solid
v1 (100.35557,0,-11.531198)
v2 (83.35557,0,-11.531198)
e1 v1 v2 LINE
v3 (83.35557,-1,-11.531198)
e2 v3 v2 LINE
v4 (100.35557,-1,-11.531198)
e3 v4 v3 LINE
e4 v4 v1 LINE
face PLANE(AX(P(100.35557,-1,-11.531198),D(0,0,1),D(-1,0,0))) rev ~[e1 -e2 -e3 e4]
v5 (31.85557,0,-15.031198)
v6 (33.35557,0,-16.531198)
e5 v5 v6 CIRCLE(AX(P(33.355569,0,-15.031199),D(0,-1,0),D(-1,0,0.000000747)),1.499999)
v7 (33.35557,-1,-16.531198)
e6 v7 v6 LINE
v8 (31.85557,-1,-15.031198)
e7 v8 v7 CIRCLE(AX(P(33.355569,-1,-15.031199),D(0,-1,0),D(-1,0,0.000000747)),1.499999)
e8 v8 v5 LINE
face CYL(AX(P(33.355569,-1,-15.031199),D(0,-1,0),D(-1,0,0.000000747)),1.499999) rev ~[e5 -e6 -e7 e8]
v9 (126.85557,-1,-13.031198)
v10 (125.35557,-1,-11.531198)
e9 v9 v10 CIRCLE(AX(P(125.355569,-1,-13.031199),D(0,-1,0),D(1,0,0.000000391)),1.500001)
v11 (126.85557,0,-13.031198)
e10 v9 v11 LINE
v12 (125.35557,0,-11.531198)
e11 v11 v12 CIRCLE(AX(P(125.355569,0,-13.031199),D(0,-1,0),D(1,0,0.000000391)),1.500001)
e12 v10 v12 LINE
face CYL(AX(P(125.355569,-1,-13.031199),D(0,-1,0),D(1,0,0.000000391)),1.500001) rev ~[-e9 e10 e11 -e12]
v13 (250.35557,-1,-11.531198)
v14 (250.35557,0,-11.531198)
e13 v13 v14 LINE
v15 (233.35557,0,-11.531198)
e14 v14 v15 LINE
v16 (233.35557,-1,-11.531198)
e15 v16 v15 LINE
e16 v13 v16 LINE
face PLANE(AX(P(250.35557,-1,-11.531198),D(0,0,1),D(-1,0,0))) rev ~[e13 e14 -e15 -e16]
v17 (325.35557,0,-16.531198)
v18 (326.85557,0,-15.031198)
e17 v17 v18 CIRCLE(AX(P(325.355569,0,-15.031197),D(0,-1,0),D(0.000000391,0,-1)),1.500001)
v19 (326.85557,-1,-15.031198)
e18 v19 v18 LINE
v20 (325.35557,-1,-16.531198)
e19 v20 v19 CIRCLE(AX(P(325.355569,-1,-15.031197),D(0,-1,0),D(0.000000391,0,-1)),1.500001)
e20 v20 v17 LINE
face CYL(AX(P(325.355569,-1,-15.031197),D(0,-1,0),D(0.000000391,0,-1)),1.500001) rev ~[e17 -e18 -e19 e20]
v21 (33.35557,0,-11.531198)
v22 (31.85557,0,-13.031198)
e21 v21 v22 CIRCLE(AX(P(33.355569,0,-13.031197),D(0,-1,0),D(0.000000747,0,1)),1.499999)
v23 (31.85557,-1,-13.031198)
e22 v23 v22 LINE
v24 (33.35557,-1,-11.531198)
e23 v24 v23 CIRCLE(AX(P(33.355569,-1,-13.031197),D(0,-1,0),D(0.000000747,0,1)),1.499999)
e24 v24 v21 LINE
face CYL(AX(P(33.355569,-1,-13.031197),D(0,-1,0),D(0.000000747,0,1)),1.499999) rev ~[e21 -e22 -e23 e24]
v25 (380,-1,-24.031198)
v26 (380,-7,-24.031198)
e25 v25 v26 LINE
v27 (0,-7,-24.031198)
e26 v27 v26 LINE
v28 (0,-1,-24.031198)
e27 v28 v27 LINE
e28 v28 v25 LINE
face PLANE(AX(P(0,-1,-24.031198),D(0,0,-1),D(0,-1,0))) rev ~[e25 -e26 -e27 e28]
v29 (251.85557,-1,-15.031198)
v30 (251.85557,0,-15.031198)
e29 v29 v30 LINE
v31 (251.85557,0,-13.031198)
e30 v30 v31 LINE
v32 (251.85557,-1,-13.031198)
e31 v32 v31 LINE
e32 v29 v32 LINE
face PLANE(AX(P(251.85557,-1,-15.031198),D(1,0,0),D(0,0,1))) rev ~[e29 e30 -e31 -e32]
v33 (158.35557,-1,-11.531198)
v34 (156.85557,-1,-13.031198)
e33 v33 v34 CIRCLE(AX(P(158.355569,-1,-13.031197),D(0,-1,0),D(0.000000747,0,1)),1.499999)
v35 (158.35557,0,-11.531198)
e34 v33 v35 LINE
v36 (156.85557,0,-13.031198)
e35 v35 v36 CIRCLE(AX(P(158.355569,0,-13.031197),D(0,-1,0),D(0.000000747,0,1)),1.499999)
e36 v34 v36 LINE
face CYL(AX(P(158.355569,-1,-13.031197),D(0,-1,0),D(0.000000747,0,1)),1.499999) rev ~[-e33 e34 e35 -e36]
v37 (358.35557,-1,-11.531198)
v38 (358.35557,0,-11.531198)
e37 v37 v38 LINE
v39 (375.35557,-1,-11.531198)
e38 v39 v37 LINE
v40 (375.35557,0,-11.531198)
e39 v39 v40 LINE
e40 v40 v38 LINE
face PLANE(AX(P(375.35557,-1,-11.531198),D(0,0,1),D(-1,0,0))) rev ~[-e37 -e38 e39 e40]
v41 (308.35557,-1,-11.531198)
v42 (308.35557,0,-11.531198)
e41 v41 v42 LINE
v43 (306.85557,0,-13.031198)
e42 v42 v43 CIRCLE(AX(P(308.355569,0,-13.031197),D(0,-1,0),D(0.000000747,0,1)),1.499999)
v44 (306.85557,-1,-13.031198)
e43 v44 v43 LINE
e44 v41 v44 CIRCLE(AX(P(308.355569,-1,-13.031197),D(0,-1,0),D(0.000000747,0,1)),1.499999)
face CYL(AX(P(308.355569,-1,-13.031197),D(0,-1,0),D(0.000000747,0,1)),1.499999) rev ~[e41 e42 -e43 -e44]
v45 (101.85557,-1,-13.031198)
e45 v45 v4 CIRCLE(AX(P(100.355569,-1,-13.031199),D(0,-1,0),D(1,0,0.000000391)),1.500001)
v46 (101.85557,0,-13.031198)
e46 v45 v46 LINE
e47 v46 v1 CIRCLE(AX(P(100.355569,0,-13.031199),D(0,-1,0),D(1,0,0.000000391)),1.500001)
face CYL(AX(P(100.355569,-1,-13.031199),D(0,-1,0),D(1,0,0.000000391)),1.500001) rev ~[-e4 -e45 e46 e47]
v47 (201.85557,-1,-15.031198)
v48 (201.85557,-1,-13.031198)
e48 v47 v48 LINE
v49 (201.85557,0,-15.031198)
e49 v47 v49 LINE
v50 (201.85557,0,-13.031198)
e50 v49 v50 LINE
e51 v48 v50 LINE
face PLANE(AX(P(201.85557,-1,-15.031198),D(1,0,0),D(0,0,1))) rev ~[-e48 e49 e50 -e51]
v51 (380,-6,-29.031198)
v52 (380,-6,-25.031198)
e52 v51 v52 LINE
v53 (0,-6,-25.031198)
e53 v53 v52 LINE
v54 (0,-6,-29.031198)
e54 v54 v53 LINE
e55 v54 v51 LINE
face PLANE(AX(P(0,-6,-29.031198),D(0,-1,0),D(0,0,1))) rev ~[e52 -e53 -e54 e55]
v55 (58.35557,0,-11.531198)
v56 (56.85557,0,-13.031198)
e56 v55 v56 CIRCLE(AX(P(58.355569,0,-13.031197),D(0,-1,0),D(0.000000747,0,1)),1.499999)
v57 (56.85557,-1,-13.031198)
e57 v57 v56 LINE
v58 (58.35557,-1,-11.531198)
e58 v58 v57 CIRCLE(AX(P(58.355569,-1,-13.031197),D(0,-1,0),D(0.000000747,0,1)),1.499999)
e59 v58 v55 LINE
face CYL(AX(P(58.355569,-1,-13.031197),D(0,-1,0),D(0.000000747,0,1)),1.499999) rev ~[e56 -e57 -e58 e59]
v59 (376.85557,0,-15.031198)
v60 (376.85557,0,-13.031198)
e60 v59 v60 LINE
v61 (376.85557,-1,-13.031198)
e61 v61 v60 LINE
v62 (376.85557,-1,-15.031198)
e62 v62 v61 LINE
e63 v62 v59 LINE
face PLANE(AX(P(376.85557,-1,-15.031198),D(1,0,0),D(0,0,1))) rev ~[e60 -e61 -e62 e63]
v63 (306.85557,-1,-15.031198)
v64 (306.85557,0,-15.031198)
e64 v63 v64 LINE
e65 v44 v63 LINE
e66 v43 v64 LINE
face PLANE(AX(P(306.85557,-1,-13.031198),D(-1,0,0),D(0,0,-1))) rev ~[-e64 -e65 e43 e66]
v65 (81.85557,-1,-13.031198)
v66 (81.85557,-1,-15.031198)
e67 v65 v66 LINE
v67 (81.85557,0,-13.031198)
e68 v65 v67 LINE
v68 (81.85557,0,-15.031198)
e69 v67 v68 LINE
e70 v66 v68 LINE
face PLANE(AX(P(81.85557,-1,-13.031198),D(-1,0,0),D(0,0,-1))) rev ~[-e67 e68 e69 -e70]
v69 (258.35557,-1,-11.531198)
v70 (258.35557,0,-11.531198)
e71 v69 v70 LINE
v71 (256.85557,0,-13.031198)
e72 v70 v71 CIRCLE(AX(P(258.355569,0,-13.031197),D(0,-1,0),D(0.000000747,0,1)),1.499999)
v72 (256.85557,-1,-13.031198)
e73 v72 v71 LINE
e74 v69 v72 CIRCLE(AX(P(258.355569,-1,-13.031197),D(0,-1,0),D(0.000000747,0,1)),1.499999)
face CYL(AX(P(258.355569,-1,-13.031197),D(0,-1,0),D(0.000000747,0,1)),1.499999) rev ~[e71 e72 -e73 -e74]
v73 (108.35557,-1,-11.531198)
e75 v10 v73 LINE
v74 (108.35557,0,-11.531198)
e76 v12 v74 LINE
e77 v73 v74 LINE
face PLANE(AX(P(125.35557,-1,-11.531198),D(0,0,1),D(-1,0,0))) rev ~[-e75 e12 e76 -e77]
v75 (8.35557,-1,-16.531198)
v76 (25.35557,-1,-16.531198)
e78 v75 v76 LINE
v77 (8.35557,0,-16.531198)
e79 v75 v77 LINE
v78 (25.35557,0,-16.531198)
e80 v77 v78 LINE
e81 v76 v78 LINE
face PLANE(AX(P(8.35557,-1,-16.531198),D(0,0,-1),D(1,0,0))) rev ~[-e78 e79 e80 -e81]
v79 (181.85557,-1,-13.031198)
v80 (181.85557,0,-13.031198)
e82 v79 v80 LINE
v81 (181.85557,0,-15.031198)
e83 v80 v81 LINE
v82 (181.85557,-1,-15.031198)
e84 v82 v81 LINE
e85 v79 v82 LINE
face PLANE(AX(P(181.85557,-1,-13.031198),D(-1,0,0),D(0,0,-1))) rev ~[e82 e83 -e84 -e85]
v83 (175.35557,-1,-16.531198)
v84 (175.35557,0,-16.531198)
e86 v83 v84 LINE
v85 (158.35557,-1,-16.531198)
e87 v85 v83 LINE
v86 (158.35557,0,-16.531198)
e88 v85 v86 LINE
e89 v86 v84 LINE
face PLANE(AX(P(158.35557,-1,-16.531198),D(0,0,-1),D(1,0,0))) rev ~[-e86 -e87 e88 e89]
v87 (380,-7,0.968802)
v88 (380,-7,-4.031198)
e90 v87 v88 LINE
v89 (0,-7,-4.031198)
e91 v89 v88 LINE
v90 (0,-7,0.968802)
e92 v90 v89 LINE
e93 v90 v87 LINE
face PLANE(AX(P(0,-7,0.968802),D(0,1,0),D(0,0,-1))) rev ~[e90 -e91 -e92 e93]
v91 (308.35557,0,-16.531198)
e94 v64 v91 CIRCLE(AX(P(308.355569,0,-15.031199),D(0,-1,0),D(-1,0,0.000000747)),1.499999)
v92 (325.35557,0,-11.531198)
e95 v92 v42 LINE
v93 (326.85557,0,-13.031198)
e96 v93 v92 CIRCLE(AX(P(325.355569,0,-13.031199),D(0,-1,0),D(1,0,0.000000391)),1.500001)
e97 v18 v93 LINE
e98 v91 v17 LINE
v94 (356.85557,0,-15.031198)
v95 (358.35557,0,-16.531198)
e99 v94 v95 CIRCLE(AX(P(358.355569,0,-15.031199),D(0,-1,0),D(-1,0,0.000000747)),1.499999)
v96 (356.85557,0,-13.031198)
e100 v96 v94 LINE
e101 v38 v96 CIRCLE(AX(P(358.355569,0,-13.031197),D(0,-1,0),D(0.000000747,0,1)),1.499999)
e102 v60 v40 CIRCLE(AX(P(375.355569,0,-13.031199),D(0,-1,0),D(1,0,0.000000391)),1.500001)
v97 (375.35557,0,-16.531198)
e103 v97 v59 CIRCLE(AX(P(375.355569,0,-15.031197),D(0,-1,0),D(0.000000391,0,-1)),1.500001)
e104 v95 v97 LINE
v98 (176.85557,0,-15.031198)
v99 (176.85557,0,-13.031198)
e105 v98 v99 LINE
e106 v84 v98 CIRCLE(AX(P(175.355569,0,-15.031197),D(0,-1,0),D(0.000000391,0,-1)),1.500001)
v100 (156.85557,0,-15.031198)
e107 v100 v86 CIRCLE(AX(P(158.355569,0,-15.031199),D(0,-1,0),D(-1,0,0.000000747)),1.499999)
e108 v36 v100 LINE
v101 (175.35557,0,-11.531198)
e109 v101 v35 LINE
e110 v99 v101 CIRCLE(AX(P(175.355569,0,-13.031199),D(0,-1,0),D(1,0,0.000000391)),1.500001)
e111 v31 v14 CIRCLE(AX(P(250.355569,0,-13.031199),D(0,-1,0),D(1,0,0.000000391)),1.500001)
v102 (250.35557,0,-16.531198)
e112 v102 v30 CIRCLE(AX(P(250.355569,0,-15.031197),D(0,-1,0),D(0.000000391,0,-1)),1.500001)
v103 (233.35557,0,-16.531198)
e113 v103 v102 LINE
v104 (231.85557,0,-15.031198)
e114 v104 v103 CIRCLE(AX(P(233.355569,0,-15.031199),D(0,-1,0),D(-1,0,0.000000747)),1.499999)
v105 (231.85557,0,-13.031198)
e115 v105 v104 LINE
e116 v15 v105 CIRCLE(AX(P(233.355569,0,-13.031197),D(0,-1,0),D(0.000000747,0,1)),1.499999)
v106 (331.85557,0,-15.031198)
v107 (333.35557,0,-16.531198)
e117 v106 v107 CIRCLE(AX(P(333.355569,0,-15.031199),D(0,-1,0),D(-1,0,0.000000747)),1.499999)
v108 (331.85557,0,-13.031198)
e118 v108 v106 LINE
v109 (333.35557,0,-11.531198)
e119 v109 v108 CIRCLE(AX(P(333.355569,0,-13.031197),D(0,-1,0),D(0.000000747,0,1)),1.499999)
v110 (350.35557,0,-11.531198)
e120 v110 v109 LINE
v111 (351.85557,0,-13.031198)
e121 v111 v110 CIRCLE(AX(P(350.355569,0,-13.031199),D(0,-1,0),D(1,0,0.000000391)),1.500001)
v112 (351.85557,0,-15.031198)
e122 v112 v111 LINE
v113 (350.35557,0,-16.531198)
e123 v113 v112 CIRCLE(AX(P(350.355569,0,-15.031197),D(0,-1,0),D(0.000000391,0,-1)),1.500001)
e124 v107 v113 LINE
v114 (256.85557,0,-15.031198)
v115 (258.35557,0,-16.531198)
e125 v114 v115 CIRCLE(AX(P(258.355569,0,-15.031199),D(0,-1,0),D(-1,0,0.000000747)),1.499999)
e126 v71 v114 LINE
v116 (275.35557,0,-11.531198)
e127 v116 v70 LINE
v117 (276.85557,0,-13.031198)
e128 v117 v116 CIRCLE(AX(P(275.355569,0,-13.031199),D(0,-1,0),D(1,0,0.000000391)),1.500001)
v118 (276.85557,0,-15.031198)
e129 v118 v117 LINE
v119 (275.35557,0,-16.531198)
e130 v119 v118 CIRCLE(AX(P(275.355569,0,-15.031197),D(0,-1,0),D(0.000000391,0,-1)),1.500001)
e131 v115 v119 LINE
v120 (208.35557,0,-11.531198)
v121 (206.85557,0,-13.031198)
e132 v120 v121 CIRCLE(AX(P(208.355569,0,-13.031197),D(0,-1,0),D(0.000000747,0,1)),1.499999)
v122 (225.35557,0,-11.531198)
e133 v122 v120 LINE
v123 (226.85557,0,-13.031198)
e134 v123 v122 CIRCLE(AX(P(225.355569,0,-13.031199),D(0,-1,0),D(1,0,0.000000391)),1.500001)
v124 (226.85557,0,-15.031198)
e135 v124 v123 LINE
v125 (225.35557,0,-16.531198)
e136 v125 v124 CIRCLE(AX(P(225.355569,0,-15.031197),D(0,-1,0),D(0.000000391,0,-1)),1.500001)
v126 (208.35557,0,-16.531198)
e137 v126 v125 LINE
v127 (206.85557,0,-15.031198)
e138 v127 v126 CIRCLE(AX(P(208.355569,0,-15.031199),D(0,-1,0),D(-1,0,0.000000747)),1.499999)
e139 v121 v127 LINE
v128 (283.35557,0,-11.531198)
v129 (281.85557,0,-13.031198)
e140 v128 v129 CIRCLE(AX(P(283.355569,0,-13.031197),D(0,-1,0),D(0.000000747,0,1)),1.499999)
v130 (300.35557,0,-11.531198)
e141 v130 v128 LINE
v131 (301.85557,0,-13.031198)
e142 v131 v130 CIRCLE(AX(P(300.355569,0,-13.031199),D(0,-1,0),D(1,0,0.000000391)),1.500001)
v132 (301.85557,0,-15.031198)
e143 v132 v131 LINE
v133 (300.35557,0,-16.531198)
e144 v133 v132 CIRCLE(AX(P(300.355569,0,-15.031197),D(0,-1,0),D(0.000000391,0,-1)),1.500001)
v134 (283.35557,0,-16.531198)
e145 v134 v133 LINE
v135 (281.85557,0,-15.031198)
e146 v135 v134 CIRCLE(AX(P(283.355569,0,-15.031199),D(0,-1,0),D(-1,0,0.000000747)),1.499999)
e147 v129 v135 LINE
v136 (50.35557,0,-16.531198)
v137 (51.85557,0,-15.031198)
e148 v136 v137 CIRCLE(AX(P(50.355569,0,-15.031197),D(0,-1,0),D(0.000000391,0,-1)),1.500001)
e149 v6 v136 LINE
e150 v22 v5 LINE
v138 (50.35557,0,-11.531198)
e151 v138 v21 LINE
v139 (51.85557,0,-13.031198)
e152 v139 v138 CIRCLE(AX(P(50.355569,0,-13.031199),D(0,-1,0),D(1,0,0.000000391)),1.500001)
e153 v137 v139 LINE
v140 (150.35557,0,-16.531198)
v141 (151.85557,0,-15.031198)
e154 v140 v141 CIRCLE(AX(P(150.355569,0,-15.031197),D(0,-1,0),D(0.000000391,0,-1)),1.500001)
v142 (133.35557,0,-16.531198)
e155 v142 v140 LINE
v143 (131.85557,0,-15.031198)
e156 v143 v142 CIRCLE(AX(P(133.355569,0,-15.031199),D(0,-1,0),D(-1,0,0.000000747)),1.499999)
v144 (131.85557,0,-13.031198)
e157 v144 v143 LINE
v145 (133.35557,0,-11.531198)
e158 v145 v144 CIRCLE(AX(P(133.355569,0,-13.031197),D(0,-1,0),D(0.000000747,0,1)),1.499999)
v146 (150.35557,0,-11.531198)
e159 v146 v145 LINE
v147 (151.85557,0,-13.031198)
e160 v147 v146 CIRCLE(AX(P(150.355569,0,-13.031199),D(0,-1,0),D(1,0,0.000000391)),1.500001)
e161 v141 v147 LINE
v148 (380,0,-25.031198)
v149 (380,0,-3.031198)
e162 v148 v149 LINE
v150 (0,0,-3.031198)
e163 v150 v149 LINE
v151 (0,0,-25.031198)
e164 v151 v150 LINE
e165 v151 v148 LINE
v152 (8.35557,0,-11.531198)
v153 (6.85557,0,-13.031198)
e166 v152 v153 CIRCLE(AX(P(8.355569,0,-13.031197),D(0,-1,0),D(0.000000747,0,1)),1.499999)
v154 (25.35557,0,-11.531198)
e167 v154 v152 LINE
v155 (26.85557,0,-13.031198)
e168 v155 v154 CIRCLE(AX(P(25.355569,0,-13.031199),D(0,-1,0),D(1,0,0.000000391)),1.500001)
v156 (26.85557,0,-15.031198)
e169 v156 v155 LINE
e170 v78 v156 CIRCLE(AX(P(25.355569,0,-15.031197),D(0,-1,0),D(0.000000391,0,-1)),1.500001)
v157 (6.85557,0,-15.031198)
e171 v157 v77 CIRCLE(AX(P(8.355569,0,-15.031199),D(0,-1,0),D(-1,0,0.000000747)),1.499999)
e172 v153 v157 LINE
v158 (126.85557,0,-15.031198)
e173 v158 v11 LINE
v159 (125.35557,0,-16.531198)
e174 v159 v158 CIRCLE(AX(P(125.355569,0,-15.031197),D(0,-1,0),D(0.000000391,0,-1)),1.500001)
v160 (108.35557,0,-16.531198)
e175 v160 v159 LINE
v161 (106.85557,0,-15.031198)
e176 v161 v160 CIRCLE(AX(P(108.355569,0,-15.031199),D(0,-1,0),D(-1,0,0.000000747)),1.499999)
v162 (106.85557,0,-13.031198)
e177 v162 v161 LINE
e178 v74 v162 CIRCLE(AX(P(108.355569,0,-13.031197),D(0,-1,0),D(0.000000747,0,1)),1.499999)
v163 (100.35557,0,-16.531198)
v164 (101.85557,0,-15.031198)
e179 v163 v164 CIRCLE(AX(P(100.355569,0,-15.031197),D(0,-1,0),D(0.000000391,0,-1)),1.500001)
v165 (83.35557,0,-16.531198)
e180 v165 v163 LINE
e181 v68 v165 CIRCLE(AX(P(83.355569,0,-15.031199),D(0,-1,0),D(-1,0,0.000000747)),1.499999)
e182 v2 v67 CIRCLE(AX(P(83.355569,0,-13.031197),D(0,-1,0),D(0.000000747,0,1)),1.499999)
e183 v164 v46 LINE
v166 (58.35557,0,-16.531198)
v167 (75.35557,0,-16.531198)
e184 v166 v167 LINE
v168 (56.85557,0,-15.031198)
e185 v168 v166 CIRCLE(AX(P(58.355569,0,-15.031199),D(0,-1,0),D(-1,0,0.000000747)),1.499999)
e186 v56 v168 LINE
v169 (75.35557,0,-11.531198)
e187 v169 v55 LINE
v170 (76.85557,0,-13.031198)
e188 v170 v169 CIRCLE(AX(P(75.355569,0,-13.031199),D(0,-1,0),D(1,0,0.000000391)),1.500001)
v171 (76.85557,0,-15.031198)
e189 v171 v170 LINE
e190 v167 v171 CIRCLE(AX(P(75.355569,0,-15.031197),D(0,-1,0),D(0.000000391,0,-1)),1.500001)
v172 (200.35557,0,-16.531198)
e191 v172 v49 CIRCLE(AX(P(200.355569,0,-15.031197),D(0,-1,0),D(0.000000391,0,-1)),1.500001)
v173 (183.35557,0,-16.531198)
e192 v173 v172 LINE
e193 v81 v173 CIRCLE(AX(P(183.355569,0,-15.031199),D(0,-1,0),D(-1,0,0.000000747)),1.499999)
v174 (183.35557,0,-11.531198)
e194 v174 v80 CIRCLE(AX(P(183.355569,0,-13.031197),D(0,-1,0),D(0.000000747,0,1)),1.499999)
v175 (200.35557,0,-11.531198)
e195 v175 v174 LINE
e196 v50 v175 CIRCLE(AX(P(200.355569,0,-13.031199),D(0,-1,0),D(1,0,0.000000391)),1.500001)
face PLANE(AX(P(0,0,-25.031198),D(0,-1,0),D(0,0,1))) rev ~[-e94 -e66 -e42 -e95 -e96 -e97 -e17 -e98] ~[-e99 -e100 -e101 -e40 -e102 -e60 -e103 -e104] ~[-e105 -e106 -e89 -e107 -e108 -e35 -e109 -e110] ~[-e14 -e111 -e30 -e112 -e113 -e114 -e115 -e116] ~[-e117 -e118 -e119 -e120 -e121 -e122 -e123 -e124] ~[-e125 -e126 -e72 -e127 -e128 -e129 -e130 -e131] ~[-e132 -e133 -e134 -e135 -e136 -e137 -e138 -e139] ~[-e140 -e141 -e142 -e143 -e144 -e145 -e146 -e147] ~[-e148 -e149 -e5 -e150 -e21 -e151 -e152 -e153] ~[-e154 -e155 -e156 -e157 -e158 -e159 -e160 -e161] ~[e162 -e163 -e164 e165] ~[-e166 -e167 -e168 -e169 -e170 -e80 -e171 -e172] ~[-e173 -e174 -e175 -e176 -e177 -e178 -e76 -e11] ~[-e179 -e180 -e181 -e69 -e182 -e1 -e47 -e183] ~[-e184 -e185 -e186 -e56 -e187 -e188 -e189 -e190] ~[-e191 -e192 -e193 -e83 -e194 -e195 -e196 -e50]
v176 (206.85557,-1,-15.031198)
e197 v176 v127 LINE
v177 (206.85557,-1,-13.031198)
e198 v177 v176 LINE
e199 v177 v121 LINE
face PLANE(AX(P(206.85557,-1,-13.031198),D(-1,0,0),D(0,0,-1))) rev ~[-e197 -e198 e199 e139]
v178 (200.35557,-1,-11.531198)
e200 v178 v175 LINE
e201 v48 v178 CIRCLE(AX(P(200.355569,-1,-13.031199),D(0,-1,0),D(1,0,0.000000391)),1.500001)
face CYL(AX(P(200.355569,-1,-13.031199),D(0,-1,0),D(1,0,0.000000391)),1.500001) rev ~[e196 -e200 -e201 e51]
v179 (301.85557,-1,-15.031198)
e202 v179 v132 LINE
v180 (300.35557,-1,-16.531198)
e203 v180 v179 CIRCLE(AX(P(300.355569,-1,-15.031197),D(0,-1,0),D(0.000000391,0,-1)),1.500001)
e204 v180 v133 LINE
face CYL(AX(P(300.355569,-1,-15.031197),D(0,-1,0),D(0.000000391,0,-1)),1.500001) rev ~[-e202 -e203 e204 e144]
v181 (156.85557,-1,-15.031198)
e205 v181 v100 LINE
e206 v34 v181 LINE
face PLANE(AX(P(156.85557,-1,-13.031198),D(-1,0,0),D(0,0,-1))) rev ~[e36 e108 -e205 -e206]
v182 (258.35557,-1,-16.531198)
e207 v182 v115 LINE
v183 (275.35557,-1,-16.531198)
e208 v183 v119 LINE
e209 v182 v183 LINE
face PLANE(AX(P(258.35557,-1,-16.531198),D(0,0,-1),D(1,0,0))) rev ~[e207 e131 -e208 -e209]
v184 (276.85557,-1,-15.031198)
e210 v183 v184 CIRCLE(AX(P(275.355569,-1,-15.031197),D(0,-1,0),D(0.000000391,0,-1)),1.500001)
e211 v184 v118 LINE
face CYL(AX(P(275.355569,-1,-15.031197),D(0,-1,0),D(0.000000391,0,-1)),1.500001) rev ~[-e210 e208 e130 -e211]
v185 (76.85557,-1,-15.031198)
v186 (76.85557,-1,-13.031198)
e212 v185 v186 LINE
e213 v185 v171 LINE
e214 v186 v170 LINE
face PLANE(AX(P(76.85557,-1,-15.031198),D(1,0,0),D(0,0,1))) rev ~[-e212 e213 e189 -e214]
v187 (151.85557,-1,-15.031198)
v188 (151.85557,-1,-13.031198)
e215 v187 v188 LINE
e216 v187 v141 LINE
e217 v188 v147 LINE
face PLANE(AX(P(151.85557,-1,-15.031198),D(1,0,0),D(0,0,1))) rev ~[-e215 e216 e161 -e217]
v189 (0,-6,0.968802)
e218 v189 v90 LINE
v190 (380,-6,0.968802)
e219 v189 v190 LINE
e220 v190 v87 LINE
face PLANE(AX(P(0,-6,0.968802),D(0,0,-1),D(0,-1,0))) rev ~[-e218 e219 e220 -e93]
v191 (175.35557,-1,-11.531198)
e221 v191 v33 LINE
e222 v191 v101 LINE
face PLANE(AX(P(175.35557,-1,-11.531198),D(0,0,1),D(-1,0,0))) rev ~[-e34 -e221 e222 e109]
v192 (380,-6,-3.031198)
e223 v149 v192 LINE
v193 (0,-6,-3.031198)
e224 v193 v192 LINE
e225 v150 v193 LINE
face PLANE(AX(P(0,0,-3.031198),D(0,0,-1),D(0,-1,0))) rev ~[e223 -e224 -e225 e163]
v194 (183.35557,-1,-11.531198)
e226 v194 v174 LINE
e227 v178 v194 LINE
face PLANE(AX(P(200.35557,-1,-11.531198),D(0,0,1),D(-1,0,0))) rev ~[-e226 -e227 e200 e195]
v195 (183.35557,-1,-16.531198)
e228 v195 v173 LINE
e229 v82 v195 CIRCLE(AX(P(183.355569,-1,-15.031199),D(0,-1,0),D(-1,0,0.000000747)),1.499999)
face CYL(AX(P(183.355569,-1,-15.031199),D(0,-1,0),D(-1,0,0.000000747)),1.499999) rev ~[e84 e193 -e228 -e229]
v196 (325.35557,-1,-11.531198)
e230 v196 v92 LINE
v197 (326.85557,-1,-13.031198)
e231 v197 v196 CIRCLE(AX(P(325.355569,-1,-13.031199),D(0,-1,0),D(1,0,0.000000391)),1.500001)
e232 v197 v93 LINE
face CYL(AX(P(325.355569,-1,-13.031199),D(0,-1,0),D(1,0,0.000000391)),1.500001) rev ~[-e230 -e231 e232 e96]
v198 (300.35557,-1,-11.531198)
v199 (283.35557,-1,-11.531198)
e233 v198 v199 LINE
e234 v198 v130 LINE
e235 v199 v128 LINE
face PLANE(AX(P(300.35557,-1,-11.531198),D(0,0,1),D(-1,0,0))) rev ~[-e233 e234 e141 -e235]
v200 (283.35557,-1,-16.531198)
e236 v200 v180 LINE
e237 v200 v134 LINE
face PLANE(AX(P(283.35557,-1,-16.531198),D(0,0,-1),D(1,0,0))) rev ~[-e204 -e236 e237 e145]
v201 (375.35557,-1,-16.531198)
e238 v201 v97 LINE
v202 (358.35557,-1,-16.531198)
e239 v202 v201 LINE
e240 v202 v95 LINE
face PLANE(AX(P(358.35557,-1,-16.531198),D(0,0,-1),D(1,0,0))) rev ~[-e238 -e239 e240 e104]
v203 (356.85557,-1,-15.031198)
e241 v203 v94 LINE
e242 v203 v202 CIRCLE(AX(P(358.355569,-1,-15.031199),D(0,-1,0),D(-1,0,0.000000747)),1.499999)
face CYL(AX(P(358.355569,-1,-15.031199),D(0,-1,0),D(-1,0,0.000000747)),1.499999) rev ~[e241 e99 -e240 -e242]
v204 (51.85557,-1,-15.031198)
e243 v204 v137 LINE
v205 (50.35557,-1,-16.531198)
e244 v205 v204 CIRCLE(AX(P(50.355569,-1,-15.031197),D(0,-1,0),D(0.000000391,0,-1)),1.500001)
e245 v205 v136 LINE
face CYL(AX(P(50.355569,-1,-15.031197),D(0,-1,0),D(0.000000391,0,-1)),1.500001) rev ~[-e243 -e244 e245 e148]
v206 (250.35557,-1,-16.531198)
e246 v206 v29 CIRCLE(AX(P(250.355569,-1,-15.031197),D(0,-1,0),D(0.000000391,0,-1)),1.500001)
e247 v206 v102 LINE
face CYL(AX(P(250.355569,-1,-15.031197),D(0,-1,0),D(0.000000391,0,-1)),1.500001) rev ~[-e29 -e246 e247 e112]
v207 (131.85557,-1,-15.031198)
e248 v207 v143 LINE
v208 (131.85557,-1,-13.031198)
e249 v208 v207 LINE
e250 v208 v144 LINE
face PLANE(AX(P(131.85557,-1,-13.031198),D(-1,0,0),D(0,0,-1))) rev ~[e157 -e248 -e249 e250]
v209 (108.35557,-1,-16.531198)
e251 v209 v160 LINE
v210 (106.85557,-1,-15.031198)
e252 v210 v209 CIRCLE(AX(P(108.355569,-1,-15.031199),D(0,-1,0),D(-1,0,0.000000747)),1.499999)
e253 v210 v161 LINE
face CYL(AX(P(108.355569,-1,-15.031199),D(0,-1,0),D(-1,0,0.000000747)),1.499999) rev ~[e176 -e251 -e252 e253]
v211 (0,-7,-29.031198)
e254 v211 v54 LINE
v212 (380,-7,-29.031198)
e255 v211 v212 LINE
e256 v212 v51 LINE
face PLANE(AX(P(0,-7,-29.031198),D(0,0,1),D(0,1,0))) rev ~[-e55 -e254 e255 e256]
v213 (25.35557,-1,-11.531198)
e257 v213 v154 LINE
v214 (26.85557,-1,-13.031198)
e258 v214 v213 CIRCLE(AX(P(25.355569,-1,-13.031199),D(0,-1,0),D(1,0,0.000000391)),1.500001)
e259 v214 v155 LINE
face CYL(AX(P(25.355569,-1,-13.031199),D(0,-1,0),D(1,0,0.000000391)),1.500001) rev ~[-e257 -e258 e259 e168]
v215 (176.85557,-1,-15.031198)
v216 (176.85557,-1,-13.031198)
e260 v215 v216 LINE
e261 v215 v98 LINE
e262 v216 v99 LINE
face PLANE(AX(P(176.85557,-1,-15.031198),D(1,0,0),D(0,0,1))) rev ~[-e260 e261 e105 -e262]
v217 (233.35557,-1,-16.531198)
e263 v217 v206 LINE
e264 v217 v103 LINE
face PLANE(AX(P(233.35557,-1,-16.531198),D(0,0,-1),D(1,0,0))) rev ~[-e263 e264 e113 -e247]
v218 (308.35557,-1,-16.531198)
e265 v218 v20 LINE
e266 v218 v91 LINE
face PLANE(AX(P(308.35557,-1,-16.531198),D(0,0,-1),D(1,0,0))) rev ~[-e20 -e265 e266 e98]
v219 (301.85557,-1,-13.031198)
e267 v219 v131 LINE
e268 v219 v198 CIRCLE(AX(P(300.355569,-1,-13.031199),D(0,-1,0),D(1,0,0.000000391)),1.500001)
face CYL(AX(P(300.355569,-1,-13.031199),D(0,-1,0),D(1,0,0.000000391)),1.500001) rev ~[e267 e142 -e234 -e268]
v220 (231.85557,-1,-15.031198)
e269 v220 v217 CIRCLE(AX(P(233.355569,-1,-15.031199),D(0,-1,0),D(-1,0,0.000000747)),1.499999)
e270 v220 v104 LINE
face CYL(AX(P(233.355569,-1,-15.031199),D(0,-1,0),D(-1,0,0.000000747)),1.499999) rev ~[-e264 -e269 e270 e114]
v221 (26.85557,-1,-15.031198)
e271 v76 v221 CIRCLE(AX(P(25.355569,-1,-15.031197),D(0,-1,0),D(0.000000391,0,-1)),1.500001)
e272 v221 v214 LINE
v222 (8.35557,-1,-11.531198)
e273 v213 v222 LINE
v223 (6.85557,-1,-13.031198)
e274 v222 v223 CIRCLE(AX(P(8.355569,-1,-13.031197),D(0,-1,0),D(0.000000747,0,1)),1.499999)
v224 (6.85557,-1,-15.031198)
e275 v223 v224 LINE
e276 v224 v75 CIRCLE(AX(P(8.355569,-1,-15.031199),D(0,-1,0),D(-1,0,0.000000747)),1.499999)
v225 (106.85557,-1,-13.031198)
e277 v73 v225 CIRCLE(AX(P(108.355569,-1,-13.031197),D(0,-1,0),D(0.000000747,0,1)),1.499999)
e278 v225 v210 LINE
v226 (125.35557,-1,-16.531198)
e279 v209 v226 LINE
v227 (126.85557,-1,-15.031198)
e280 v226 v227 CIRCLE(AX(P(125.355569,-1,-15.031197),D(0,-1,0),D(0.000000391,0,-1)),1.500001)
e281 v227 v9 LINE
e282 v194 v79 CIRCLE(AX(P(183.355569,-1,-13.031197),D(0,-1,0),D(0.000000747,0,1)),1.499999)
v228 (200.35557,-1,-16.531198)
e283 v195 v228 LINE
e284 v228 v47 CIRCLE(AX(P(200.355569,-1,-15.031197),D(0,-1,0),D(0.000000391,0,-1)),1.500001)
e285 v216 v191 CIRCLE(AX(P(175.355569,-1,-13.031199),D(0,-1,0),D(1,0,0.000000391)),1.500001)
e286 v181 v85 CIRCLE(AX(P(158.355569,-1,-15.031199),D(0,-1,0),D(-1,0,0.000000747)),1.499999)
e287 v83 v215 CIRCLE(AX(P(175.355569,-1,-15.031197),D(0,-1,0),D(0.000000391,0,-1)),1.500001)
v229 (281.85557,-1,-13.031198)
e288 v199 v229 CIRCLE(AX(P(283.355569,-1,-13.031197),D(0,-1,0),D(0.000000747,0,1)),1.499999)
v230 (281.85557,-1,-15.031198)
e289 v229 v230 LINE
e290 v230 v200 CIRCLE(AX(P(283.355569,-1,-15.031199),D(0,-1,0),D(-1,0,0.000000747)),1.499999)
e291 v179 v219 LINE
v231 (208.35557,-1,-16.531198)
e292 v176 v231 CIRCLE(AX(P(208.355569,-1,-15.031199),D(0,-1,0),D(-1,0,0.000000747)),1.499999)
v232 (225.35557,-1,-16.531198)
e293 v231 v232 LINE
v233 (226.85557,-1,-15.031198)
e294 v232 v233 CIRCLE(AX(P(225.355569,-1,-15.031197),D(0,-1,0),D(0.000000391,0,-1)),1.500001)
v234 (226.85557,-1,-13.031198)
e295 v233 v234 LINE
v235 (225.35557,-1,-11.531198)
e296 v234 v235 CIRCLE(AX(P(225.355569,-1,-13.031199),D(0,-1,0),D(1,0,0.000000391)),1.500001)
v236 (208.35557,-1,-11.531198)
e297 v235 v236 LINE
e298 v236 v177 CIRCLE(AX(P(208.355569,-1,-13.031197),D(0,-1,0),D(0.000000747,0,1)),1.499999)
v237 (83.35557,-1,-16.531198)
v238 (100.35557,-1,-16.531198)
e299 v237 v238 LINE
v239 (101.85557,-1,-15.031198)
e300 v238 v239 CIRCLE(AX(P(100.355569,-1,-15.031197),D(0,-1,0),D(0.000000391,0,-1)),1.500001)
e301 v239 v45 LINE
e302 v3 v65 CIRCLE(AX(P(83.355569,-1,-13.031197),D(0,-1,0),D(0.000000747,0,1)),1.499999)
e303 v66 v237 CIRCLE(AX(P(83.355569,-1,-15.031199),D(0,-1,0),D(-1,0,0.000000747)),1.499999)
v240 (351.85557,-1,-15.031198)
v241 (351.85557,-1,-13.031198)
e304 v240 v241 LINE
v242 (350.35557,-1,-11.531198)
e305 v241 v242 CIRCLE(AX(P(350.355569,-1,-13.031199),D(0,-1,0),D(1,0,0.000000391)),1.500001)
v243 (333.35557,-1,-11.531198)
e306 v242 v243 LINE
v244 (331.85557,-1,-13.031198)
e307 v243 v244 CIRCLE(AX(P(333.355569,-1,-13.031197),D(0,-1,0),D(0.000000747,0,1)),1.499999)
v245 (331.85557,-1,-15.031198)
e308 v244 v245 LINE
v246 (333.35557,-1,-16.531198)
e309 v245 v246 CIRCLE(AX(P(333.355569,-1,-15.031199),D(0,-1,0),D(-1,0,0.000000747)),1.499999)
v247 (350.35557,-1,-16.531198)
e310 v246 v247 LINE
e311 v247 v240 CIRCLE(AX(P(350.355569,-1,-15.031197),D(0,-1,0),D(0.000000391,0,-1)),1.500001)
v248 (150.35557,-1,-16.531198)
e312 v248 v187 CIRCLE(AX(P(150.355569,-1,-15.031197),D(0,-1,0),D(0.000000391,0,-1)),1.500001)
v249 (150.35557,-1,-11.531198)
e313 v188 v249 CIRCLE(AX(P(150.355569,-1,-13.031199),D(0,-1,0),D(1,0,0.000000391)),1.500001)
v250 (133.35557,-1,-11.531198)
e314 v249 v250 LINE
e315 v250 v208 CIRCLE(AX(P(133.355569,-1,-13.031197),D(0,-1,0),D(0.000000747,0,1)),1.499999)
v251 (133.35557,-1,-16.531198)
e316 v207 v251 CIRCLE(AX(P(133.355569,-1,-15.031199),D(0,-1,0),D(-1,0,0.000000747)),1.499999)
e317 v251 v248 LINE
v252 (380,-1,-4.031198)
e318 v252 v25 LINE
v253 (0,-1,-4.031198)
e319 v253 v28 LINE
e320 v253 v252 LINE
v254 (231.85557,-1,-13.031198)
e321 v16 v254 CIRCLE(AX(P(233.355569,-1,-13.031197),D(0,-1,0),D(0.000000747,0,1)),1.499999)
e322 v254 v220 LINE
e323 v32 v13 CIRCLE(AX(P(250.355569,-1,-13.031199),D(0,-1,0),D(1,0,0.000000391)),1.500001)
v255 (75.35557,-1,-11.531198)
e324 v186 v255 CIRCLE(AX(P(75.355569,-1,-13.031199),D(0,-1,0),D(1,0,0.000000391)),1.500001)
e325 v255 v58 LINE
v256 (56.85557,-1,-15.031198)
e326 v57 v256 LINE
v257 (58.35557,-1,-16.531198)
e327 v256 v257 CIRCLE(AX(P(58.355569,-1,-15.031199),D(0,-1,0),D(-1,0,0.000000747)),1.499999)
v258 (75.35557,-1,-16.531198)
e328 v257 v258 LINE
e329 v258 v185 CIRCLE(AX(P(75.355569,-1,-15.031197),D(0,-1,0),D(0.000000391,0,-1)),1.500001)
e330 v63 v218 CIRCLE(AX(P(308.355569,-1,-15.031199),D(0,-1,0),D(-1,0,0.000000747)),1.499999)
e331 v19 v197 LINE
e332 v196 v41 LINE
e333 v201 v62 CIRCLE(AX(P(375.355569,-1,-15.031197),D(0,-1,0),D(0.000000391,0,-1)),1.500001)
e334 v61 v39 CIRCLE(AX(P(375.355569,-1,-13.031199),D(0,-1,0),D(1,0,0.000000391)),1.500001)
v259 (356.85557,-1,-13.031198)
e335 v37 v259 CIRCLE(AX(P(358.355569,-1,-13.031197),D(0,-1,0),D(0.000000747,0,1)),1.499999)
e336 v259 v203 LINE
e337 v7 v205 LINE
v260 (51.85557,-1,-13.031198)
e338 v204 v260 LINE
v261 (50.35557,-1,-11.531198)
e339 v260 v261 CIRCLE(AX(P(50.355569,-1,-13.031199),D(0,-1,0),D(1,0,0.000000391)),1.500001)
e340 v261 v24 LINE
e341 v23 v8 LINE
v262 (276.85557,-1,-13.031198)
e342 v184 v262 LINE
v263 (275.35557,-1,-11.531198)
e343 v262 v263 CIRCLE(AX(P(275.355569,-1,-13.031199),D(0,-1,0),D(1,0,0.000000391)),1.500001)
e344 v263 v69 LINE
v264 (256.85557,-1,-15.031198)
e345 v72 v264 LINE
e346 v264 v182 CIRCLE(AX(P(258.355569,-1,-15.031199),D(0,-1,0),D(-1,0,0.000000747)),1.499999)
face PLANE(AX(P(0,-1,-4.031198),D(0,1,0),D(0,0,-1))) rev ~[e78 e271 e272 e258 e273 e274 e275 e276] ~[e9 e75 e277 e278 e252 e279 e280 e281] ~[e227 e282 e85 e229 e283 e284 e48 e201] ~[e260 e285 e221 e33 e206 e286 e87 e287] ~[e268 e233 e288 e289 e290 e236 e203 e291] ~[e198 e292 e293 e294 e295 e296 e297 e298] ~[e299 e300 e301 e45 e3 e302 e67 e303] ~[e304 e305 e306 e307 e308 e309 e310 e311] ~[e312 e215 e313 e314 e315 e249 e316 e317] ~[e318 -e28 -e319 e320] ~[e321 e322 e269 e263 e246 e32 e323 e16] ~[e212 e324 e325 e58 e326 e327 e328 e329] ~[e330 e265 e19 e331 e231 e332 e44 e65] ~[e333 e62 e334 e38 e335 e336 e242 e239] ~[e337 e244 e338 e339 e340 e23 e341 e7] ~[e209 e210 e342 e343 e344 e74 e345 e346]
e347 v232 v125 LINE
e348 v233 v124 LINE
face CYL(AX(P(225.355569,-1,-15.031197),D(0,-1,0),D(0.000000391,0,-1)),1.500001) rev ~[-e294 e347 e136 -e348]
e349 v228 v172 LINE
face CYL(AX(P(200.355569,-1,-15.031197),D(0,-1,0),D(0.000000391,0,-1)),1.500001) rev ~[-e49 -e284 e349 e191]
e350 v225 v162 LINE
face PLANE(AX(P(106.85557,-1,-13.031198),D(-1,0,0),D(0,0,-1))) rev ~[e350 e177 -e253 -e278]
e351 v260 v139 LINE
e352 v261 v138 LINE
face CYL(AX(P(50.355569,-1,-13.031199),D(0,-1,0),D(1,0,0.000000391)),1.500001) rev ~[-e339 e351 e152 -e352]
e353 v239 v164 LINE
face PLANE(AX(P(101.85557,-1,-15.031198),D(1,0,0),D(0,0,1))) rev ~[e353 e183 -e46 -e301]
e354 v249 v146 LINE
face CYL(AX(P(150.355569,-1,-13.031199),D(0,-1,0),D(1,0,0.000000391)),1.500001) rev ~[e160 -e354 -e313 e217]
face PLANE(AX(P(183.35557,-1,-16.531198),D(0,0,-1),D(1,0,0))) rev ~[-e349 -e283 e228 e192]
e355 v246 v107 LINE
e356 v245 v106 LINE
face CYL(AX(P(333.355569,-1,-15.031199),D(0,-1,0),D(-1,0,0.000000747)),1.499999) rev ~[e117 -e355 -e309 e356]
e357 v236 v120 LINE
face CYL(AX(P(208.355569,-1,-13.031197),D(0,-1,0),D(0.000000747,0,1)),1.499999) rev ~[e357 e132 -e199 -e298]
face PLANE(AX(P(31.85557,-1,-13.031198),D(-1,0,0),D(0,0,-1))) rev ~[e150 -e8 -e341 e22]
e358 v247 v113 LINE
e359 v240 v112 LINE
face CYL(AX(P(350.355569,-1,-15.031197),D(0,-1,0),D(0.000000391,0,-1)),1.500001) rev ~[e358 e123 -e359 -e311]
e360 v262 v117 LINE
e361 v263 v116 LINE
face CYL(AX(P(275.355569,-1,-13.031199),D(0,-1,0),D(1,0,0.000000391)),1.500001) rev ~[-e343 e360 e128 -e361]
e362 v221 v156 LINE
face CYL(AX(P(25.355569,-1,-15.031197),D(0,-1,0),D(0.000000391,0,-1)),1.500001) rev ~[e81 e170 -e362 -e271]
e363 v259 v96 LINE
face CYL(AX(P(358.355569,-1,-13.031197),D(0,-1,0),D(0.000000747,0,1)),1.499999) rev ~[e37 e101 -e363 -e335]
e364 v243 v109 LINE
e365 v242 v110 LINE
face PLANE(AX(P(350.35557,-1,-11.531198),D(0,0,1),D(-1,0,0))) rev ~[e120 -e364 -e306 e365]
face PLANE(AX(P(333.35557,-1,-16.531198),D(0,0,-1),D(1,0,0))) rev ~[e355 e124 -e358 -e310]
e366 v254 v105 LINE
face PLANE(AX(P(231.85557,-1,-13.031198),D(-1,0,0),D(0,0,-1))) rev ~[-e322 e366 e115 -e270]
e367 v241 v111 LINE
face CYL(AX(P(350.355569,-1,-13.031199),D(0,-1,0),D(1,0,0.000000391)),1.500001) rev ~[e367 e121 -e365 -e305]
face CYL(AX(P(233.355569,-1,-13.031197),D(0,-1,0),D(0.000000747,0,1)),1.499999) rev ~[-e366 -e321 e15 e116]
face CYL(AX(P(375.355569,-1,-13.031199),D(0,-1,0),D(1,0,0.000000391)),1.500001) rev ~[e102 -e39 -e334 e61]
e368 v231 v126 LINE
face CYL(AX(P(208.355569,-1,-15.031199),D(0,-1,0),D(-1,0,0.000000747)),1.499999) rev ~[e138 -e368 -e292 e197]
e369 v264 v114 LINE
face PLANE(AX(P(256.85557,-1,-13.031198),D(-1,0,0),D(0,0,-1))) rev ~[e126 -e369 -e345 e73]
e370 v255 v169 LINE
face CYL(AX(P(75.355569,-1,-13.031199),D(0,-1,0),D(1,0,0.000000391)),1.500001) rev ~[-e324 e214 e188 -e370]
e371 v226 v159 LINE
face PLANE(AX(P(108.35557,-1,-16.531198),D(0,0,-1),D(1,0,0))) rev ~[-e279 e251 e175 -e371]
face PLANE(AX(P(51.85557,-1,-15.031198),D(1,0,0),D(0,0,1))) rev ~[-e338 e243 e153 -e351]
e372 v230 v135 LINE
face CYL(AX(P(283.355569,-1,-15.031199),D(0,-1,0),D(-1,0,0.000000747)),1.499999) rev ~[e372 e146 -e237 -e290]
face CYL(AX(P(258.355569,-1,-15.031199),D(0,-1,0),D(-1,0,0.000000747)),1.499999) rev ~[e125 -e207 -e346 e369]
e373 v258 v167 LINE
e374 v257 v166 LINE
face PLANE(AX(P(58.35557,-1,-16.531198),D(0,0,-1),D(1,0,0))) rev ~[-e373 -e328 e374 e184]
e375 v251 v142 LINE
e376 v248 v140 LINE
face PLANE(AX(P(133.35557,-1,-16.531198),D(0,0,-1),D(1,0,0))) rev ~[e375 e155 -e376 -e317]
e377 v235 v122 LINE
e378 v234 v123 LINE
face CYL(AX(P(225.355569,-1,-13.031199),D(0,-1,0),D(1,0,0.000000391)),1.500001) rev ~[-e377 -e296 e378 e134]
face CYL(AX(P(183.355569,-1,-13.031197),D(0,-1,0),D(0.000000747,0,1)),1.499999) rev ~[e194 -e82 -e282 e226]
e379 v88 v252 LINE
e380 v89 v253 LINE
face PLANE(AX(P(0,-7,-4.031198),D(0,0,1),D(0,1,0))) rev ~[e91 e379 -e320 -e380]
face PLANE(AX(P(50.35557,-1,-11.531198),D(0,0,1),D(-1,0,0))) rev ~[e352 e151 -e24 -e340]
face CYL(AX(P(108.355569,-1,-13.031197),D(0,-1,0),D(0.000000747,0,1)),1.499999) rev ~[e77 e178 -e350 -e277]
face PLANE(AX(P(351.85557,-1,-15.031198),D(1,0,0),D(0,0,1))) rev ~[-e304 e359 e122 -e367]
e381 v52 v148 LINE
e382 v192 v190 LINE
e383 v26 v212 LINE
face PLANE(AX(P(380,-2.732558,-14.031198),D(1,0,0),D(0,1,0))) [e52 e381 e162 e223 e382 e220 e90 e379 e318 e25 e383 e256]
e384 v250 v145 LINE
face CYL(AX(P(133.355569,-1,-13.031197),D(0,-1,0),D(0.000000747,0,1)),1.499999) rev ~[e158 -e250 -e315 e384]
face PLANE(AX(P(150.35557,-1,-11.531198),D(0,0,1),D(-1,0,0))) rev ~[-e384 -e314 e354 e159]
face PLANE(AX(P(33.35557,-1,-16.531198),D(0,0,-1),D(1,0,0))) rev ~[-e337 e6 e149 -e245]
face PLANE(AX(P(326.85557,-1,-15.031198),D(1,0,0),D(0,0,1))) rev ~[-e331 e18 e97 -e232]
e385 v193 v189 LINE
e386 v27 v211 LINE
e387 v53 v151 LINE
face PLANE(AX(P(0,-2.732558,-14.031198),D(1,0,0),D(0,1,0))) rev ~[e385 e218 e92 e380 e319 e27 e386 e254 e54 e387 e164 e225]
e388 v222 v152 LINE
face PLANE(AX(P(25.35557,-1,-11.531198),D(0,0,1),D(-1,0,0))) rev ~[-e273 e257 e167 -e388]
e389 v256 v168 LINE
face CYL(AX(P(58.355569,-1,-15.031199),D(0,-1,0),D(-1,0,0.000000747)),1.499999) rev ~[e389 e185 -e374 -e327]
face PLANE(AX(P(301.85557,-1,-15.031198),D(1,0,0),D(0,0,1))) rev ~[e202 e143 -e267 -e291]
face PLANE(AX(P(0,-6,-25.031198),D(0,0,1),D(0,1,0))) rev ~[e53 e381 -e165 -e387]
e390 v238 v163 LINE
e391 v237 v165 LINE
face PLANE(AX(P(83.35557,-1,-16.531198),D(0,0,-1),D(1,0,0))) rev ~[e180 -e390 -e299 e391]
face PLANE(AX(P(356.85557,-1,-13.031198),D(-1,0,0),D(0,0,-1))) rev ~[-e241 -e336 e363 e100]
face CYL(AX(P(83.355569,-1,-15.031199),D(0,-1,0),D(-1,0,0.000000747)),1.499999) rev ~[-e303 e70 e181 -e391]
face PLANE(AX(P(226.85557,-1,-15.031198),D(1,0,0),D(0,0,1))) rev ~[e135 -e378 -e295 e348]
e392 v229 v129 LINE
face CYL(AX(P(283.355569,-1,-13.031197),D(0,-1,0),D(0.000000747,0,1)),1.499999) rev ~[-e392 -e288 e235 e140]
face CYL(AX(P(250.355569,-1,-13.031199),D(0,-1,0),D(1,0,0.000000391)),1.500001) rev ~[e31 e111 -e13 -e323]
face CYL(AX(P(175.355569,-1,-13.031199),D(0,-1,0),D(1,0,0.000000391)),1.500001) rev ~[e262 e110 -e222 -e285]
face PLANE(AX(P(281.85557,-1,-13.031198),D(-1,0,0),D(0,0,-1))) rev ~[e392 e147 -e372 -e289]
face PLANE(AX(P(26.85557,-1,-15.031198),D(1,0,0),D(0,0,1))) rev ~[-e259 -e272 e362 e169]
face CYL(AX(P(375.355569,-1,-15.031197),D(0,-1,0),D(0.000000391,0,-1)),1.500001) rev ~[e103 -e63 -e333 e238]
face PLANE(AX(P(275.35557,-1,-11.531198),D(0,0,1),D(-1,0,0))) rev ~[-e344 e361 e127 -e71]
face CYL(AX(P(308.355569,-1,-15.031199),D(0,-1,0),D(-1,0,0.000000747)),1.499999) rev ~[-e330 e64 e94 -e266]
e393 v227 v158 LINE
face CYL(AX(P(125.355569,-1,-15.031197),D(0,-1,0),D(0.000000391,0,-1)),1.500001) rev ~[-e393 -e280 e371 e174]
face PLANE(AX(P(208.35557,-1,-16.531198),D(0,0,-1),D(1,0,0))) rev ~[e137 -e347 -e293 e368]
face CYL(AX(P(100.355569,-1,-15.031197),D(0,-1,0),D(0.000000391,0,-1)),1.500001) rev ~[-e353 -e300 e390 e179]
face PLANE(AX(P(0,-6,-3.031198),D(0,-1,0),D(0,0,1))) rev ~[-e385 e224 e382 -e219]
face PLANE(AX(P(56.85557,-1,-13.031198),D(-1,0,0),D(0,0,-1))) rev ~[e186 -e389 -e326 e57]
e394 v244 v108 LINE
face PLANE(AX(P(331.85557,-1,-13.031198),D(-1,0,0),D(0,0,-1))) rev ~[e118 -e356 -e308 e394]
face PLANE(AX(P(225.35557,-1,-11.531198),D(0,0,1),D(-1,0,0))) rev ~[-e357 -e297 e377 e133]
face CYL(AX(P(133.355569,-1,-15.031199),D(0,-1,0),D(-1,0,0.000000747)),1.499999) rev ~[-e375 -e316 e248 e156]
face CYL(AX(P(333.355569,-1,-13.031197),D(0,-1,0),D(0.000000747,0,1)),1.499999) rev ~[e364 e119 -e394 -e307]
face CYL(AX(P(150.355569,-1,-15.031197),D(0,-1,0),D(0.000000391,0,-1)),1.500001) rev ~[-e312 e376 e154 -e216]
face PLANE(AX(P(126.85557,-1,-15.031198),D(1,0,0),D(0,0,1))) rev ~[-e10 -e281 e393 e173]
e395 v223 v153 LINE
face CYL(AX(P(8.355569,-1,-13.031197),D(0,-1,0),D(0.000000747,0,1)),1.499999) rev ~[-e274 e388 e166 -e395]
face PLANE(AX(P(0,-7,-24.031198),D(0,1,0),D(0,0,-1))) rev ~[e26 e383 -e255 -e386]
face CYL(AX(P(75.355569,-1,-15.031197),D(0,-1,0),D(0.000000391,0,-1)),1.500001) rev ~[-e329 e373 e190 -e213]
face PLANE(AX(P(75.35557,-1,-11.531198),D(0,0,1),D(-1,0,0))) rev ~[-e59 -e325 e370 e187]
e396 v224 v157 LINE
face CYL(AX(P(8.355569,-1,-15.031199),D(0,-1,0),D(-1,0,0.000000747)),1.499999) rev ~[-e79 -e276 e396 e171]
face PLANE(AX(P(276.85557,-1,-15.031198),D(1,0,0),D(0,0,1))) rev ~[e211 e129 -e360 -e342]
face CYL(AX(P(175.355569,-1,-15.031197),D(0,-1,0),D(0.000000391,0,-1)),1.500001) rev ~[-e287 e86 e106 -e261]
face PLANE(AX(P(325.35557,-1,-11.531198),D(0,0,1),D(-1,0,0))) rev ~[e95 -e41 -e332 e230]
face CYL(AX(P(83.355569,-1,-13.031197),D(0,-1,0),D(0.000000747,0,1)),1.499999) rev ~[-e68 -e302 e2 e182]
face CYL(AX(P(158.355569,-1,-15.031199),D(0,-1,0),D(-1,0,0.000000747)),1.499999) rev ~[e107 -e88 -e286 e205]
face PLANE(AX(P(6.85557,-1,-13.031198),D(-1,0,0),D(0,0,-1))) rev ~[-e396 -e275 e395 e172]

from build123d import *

# Parameters (mm, degrees)
F1_DEPTH = 380
F3_DEPTH = 25


with BuildPart() as f1:
    # F0 (on Right) → F1 (new body)
    with BuildSketch(Plane.YZ):
        Polygon((0, -25.031198), (0, -3.031198), (-6, -3.031198), (-6, 0.968802), (-7, 0.968802), (-7, -4.031198), (-1, -4.031198), (-1, -24.031198), (-7, -24.031198), (-7, -29.031198), (-6, -29.031198), (-6, -25.031198), align=None)
    extrude(amount=F1_DEPTH)

    # F2 (on face) → F3 (cut)
    with BuildSketch(Plane.XZ.offset(1)):
        with BuildLine():
            Line((6.85557, -13.031198), (6.85557, -14.031198))
            Line((6.85557, -14.031198), (26.85557, -14.031198))
            Line((26.85557, -14.031198), (26.85557, -13.031198))
            ThreePointArc((26.85557, -13.031198), (26.41623, -11.970538), (25.35557, -11.531198))
            Line((25.35557, -11.531198), (8.35557, -11.531198))
            ThreePointArc((8.35557, -11.531198), (7.294909, -11.970538), (6.85557, -13.031198))
        make_face()
        with BuildLine():
            Line((26.85557, -14.031198), (6.85557, -14.031198))
            Line((6.85557, -14.031198), (6.85557, -15.031198))
            ThreePointArc((6.85557, -15.031198), (7.294909, -16.091858), (8.35557, -16.531198))
            Line((8.35557, -16.531198), (25.35557, -16.531198))
            ThreePointArc((25.35557, -16.531198), (26.41623, -16.091858), (26.85557, -15.031198))
            Line((26.85557, -15.031198), (26.85557, -14.031198))
        make_face()
        with BuildLine():
            Line((31.85557, -13.031198), (31.85557, -14.031198))
            Line((31.85557, -14.031198), (51.85557, -14.031198))
            Line((51.85557, -14.031198), (51.85557, -13.031198))
            ThreePointArc((51.85557, -13.031198), (51.41623, -11.970538), (50.35557, -11.531198))
            Line((50.35557, -11.531198), (33.35557, -11.531198))
            ThreePointArc((33.35557, -11.531198), (32.294909, -11.970538), (31.85557, -13.031198))
        make_face()
        with BuildLine():
            Line((51.85557, -14.031198), (31.85557, -14.031198))
            Line((31.85557, -14.031198), (31.85557, -15.031198))
            ThreePointArc((31.85557, -15.031198), (32.294909, -16.091858), (33.35557, -16.531198))
            Line((33.35557, -16.531198), (50.35557, -16.531198))
            ThreePointArc((50.35557, -16.531198), (51.41623, -16.091858), (51.85557, -15.031198))
            Line((51.85557, -15.031198), (51.85557, -14.031198))
        make_face()
        with BuildLine():
            Line((56.85557, -13.031198), (56.85557, -14.031198))
            Line((56.85557, -14.031198), (76.85557, -14.031198))
            Line((76.85557, -14.031198), (76.85557, -13.031198))
            ThreePointArc((76.85557, -13.031198), (76.41623, -11.970538), (75.35557, -11.531198))
            Line((75.35557, -11.531198), (58.35557, -11.531198))
            ThreePointArc((58.35557, -11.531198), (57.294909, -11.970538), (56.85557, -13.031198))
        make_face()
        with BuildLine():
            Line((76.85557, -14.031198), (56.85557, -14.031198))
            Line((56.85557, -14.031198), (56.85557, -15.031198))
            ThreePointArc((56.85557, -15.031198), (57.294909, -16.091858), (58.35557, -16.531198))
            Line((58.35557, -16.531198), (75.35557, -16.531198))
            ThreePointArc((75.35557, -16.531198), (76.41623, -16.091858), (76.85557, -15.031198))
            Line((76.85557, -15.031198), (76.85557, -14.031198))
        make_face()
        with BuildLine():
            Line((81.85557, -13.031198), (81.85557, -14.031198))
            Line((81.85557, -14.031198), (101.85557, -14.031198))
            Line((101.85557, -14.031198), (101.85557, -13.031198))
            ThreePointArc((101.85557, -13.031198), (101.41623, -11.970538), (100.35557, -11.531198))
            Line((100.35557, -11.531198), (83.35557, -11.531198))
            ThreePointArc((83.35557, -11.531198), (82.294909, -11.970538), (81.85557, -13.031198))
        make_face()
        with BuildLine():
            Line((101.85557, -14.031198), (81.85557, -14.031198))
            Line((81.85557, -14.031198), (81.85557, -15.031198))
            ThreePointArc((81.85557, -15.031198), (82.294909, -16.091858), (83.35557, -16.531198))
            Line((83.35557, -16.531198), (100.35557, -16.531198))
            ThreePointArc((100.35557, -16.531198), (101.41623, -16.091858), (101.85557, -15.031198))
            Line((101.85557, -15.031198), (101.85557, -14.031198))
        make_face()
        with BuildLine():
            Line((106.85557, -13.031198), (106.85557, -14.031198))
            Line((106.85557, -14.031198), (126.85557, -14.031198))
            Line((126.85557, -14.031198), (126.85557, -13.031198))
            ThreePointArc((126.85557, -13.031198), (126.41623, -11.970538), (125.35557, -11.531198))
            Line((125.35557, -11.531198), (108.35557, -11.531198))
            ThreePointArc((108.35557, -11.531198), (107.294909, -11.970538), (106.85557, -13.031198))
        make_face()
        with BuildLine():
            Line((126.85557, -14.031198), (106.85557, -14.031198))
            Line((106.85557, -14.031198), (106.85557, -15.031198))
            ThreePointArc((106.85557, -15.031198), (107.294909, -16.091858), (108.35557, -16.531198))
            Line((108.35557, -16.531198), (125.35557, -16.531198))
            ThreePointArc((125.35557, -16.531198), (126.41623, -16.091858), (126.85557, -15.031198))
            Line((126.85557, -15.031198), (126.85557, -14.031198))
        make_face()
        with BuildLine():
            Line((131.85557, -13.031198), (131.85557, -14.031198))
            Line((131.85557, -14.031198), (151.85557, -14.031198))
            Line((151.85557, -14.031198), (151.85557, -13.031198))
            ThreePointArc((151.85557, -13.031198), (151.41623, -11.970538), (150.35557, -11.531198))
            Line((150.35557, -11.531198), (133.35557, -11.531198))
            ThreePointArc((133.35557, -11.531198), (132.294909, -11.970538), (131.85557, -13.031198))
        make_face()
        with BuildLine():
            Line((151.85557, -14.031198), (131.85557, -14.031198))
            Line((131.85557, -14.031198), (131.85557, -15.031198))
            ThreePointArc((131.85557, -15.031198), (132.294909, -16.091858), (133.35557, -16.531198))
            Line((133.35557, -16.531198), (150.35557, -16.531198))
            ThreePointArc((150.35557, -16.531198), (151.41623, -16.091858), (151.85557, -15.031198))
            Line((151.85557, -15.031198), (151.85557, -14.031198))
        make_face()
        with BuildLine():
            Line((176.85557, -14.031198), (156.85557, -14.031198))
            Line((156.85557, -14.031198), (156.85557, -15.031198))
            ThreePointArc((156.85557, -15.031198), (157.294909, -16.091858), (158.35557, -16.531198))
            Line((158.35557, -16.531198), (175.35557, -16.531198))
            ThreePointArc((175.35557, -16.531198), (176.41623, -16.091858), (176.85557, -15.031198))
            Line((176.85557, -15.031198), (176.85557, -14.031198))
        make_face()
        with BuildLine():
            Line((156.85557, -13.031198), (156.85557, -14.031198))
            Line((156.85557, -14.031198), (176.85557, -14.031198))
            Line((176.85557, -14.031198), (176.85557, -13.031198))
            ThreePointArc((176.85557, -13.031198), (176.41623, -11.970538), (175.35557, -11.531198))
            Line((175.35557, -11.531198), (158.35557, -11.531198))
            ThreePointArc((158.35557, -11.531198), (157.294909, -11.970538), (156.85557, -13.031198))
        make_face()
        with BuildLine():
            Line((181.85557, -13.031198), (181.85557, -14.031198))
            Line((181.85557, -14.031198), (201.85557, -14.031198))
            Line((201.85557, -14.031198), (201.85557, -13.031198))
            ThreePointArc((201.85557, -13.031198), (201.41623, -11.970538), (200.35557, -11.531198))
            Line((200.35557, -11.531198), (183.35557, -11.531198))
            ThreePointArc((183.35557, -11.531198), (182.294909, -11.970538), (181.85557, -13.031198))
        make_face()
        with BuildLine():
            Line((201.85557, -14.031198), (181.85557, -14.031198))
            Line((181.85557, -14.031198), (181.85557, -15.031198))
            ThreePointArc((181.85557, -15.031198), (182.294909, -16.091858), (183.35557, -16.531198))
            Line((183.35557, -16.531198), (200.35557, -16.531198))
            ThreePointArc((200.35557, -16.531198), (201.41623, -16.091858), (201.85557, -15.031198))
            Line((201.85557, -15.031198), (201.85557, -14.031198))
        make_face()
        with BuildLine():
            Line((226.85557, -15.031198), (226.85557, -14.031198))
            Line((226.85557, -14.031198), (206.85557, -14.031198))
            Line((206.85557, -14.031198), (206.85557, -15.031198))
            ThreePointArc((206.85557, -15.031198), (207.294909, -16.091858), (208.35557, -16.531198))
            Line((208.35557, -16.531198), (225.35557, -16.531198))
            ThreePointArc((225.35557, -16.531198), (226.41623, -16.091858), (226.85557, -15.031198))
        make_face()
        with BuildLine():
            Line((206.85557, -14.031198), (226.85557, -14.031198))
            Line((226.85557, -14.031198), (226.85557, -13.031198))
            ThreePointArc((226.85557, -13.031198), (226.41623, -11.970538), (225.35557, -11.531198))
            Line((225.35557, -11.531198), (208.35557, -11.531198))
            ThreePointArc((208.35557, -11.531198), (207.294909, -11.970538), (206.85557, -13.031198))
            Line((206.85557, -13.031198), (206.85557, -14.031198))
        make_face()
        with BuildLine():
            Line((251.85557, -15.031198), (251.85557, -14.031198))
            Line((251.85557, -14.031198), (231.85557, -14.031198))
            Line((231.85557, -14.031198), (231.85557, -15.031198))
            ThreePointArc((231.85557, -15.031198), (232.294909, -16.091858), (233.35557, -16.531198))
            Line((233.35557, -16.531198), (250.35557, -16.531198))
            ThreePointArc((250.35557, -16.531198), (251.41623, -16.091858), (251.85557, -15.031198))
        make_face()
        with BuildLine():
            Line((231.85557, -14.031198), (251.85557, -14.031198))
            Line((251.85557, -14.031198), (251.85557, -13.031198))
            ThreePointArc((251.85557, -13.031198), (251.41623, -11.970538), (250.35557, -11.531198))
            Line((250.35557, -11.531198), (233.35557, -11.531198))
            ThreePointArc((233.35557, -11.531198), (232.294909, -11.970538), (231.85557, -13.031198))
            Line((231.85557, -13.031198), (231.85557, -14.031198))
        make_face()
        with BuildLine():
            Line((276.85557, -15.031198), (276.85557, -14.031198))
            Line((276.85557, -14.031198), (256.85557, -14.031198))
            Line((256.85557, -14.031198), (256.85557, -15.031198))
            ThreePointArc((256.85557, -15.031198), (257.294909, -16.091858), (258.35557, -16.531198))
            Line((258.35557, -16.531198), (275.35557, -16.531198))
            ThreePointArc((275.35557, -16.531198), (276.41623, -16.091858), (276.85557, -15.031198))
        make_face()
        with BuildLine():
            Line((256.85557, -14.031198), (276.85557, -14.031198))
            Line((276.85557, -14.031198), (276.85557, -13.031198))
            ThreePointArc((276.85557, -13.031198), (276.41623, -11.970538), (275.35557, -11.531198))
            Line((275.35557, -11.531198), (258.35557, -11.531198))
            ThreePointArc((258.35557, -11.531198), (257.294909, -11.970538), (256.85557, -13.031198))
            Line((256.85557, -13.031198), (256.85557, -14.031198))
        make_face()
        with BuildLine():
            Line((301.85557, -15.031198), (301.85557, -14.031198))
            Line((301.85557, -14.031198), (281.85557, -14.031198))
            Line((281.85557, -14.031198), (281.85557, -15.031198))
            ThreePointArc((281.85557, -15.031198), (282.294909, -16.091858), (283.35557, -16.531198))
            Line((283.35557, -16.531198), (300.35557, -16.531198))
            ThreePointArc((300.35557, -16.531198), (301.41623, -16.091858), (301.85557, -15.031198))
        make_face()
        with BuildLine():
            Line((281.85557, -14.031198), (301.85557, -14.031198))
            Line((301.85557, -14.031198), (301.85557, -13.031198))
            ThreePointArc((301.85557, -13.031198), (301.41623, -11.970538), (300.35557, -11.531198))
            Line((300.35557, -11.531198), (283.35557, -11.531198))
            ThreePointArc((283.35557, -11.531198), (282.294909, -11.970538), (281.85557, -13.031198))
            Line((281.85557, -13.031198), (281.85557, -14.031198))
        make_face()
        with BuildLine():
            Line((306.85557, -14.031198), (326.85557, -14.031198))
            Line((326.85557, -14.031198), (326.85557, -13.031198))
            ThreePointArc((326.85557, -13.031198), (326.41623, -11.970538), (325.35557, -11.531198))
            Line((325.35557, -11.531198), (308.35557, -11.531198))
            ThreePointArc((308.35557, -11.531198), (307.294909, -11.970538), (306.85557, -13.031198))
            Line((306.85557, -13.031198), (306.85557, -14.031198))
        make_face()
        with BuildLine():
            Line((326.85557, -15.031198), (326.85557, -14.031198))
            Line((326.85557, -14.031198), (306.85557, -14.031198))
            Line((306.85557, -14.031198), (306.85557, -15.031198))
            ThreePointArc((306.85557, -15.031198), (307.294909, -16.091858), (308.35557, -16.531198))
            Line((308.35557, -16.531198), (325.35557, -16.531198))
            ThreePointArc((325.35557, -16.531198), (326.41623, -16.091858), (326.85557, -15.031198))
        make_face()
        with BuildLine():
            Line((351.85557, -15.031198), (351.85557, -14.031198))
            Line((351.85557, -14.031198), (331.85557, -14.031198))
            Line((331.85557, -14.031198), (331.85557, -15.031198))
            ThreePointArc((331.85557, -15.031198), (332.294909, -16.091858), (333.35557, -16.531198))
            Line((333.35557, -16.531198), (350.35557, -16.531198))
            ThreePointArc((350.35557, -16.531198), (351.41623, -16.091858), (351.85557, -15.031198))
        make_face()
        with BuildLine():
            Line((331.85557, -14.031198), (351.85557, -14.031198))
            Line((351.85557, -14.031198), (351.85557, -13.031198))
            ThreePointArc((351.85557, -13.031198), (351.41623, -11.970538), (350.35557, -11.531198))
            Line((350.35557, -11.531198), (333.35557, -11.531198))
            ThreePointArc((333.35557, -11.531198), (332.294909, -11.970538), (331.85557, -13.031198))
            Line((331.85557, -13.031198), (331.85557, -14.031198))
        make_face()
        with BuildLine():
            Line((356.85557, -14.031198), (376.85557, -14.031198))
            Line((376.85557, -14.031198), (376.85557, -13.031198))
            ThreePointArc((376.85557, -13.031198), (376.41623, -11.970538), (375.35557, -11.531198))
            Line((375.35557, -11.531198), (358.35557, -11.531198))
            ThreePointArc((358.35557, -11.531198), (357.294909, -11.970538), (356.85557, -13.031198))
            Line((356.85557, -13.031198), (356.85557, -14.031198))
        make_face()
        with BuildLine():
            Line((376.85557, -15.031198), (376.85557, -14.031198))
            Line((376.85557, -14.031198), (356.85557, -14.031198))
            Line((356.85557, -14.031198), (356.85557, -15.031198))
            ThreePointArc((356.85557, -15.031198), (357.294909, -16.091858), (358.35557, -16.531198))
            Line((358.35557, -16.531198), (375.35557, -16.531198))
            ThreePointArc((375.35557, -16.531198), (376.41623, -16.091858), (376.85557, -15.031198))
        make_face()
    extrude(amount=-F3_DEPTH, mode=Mode.SUBTRACT)


solid = f1.part
